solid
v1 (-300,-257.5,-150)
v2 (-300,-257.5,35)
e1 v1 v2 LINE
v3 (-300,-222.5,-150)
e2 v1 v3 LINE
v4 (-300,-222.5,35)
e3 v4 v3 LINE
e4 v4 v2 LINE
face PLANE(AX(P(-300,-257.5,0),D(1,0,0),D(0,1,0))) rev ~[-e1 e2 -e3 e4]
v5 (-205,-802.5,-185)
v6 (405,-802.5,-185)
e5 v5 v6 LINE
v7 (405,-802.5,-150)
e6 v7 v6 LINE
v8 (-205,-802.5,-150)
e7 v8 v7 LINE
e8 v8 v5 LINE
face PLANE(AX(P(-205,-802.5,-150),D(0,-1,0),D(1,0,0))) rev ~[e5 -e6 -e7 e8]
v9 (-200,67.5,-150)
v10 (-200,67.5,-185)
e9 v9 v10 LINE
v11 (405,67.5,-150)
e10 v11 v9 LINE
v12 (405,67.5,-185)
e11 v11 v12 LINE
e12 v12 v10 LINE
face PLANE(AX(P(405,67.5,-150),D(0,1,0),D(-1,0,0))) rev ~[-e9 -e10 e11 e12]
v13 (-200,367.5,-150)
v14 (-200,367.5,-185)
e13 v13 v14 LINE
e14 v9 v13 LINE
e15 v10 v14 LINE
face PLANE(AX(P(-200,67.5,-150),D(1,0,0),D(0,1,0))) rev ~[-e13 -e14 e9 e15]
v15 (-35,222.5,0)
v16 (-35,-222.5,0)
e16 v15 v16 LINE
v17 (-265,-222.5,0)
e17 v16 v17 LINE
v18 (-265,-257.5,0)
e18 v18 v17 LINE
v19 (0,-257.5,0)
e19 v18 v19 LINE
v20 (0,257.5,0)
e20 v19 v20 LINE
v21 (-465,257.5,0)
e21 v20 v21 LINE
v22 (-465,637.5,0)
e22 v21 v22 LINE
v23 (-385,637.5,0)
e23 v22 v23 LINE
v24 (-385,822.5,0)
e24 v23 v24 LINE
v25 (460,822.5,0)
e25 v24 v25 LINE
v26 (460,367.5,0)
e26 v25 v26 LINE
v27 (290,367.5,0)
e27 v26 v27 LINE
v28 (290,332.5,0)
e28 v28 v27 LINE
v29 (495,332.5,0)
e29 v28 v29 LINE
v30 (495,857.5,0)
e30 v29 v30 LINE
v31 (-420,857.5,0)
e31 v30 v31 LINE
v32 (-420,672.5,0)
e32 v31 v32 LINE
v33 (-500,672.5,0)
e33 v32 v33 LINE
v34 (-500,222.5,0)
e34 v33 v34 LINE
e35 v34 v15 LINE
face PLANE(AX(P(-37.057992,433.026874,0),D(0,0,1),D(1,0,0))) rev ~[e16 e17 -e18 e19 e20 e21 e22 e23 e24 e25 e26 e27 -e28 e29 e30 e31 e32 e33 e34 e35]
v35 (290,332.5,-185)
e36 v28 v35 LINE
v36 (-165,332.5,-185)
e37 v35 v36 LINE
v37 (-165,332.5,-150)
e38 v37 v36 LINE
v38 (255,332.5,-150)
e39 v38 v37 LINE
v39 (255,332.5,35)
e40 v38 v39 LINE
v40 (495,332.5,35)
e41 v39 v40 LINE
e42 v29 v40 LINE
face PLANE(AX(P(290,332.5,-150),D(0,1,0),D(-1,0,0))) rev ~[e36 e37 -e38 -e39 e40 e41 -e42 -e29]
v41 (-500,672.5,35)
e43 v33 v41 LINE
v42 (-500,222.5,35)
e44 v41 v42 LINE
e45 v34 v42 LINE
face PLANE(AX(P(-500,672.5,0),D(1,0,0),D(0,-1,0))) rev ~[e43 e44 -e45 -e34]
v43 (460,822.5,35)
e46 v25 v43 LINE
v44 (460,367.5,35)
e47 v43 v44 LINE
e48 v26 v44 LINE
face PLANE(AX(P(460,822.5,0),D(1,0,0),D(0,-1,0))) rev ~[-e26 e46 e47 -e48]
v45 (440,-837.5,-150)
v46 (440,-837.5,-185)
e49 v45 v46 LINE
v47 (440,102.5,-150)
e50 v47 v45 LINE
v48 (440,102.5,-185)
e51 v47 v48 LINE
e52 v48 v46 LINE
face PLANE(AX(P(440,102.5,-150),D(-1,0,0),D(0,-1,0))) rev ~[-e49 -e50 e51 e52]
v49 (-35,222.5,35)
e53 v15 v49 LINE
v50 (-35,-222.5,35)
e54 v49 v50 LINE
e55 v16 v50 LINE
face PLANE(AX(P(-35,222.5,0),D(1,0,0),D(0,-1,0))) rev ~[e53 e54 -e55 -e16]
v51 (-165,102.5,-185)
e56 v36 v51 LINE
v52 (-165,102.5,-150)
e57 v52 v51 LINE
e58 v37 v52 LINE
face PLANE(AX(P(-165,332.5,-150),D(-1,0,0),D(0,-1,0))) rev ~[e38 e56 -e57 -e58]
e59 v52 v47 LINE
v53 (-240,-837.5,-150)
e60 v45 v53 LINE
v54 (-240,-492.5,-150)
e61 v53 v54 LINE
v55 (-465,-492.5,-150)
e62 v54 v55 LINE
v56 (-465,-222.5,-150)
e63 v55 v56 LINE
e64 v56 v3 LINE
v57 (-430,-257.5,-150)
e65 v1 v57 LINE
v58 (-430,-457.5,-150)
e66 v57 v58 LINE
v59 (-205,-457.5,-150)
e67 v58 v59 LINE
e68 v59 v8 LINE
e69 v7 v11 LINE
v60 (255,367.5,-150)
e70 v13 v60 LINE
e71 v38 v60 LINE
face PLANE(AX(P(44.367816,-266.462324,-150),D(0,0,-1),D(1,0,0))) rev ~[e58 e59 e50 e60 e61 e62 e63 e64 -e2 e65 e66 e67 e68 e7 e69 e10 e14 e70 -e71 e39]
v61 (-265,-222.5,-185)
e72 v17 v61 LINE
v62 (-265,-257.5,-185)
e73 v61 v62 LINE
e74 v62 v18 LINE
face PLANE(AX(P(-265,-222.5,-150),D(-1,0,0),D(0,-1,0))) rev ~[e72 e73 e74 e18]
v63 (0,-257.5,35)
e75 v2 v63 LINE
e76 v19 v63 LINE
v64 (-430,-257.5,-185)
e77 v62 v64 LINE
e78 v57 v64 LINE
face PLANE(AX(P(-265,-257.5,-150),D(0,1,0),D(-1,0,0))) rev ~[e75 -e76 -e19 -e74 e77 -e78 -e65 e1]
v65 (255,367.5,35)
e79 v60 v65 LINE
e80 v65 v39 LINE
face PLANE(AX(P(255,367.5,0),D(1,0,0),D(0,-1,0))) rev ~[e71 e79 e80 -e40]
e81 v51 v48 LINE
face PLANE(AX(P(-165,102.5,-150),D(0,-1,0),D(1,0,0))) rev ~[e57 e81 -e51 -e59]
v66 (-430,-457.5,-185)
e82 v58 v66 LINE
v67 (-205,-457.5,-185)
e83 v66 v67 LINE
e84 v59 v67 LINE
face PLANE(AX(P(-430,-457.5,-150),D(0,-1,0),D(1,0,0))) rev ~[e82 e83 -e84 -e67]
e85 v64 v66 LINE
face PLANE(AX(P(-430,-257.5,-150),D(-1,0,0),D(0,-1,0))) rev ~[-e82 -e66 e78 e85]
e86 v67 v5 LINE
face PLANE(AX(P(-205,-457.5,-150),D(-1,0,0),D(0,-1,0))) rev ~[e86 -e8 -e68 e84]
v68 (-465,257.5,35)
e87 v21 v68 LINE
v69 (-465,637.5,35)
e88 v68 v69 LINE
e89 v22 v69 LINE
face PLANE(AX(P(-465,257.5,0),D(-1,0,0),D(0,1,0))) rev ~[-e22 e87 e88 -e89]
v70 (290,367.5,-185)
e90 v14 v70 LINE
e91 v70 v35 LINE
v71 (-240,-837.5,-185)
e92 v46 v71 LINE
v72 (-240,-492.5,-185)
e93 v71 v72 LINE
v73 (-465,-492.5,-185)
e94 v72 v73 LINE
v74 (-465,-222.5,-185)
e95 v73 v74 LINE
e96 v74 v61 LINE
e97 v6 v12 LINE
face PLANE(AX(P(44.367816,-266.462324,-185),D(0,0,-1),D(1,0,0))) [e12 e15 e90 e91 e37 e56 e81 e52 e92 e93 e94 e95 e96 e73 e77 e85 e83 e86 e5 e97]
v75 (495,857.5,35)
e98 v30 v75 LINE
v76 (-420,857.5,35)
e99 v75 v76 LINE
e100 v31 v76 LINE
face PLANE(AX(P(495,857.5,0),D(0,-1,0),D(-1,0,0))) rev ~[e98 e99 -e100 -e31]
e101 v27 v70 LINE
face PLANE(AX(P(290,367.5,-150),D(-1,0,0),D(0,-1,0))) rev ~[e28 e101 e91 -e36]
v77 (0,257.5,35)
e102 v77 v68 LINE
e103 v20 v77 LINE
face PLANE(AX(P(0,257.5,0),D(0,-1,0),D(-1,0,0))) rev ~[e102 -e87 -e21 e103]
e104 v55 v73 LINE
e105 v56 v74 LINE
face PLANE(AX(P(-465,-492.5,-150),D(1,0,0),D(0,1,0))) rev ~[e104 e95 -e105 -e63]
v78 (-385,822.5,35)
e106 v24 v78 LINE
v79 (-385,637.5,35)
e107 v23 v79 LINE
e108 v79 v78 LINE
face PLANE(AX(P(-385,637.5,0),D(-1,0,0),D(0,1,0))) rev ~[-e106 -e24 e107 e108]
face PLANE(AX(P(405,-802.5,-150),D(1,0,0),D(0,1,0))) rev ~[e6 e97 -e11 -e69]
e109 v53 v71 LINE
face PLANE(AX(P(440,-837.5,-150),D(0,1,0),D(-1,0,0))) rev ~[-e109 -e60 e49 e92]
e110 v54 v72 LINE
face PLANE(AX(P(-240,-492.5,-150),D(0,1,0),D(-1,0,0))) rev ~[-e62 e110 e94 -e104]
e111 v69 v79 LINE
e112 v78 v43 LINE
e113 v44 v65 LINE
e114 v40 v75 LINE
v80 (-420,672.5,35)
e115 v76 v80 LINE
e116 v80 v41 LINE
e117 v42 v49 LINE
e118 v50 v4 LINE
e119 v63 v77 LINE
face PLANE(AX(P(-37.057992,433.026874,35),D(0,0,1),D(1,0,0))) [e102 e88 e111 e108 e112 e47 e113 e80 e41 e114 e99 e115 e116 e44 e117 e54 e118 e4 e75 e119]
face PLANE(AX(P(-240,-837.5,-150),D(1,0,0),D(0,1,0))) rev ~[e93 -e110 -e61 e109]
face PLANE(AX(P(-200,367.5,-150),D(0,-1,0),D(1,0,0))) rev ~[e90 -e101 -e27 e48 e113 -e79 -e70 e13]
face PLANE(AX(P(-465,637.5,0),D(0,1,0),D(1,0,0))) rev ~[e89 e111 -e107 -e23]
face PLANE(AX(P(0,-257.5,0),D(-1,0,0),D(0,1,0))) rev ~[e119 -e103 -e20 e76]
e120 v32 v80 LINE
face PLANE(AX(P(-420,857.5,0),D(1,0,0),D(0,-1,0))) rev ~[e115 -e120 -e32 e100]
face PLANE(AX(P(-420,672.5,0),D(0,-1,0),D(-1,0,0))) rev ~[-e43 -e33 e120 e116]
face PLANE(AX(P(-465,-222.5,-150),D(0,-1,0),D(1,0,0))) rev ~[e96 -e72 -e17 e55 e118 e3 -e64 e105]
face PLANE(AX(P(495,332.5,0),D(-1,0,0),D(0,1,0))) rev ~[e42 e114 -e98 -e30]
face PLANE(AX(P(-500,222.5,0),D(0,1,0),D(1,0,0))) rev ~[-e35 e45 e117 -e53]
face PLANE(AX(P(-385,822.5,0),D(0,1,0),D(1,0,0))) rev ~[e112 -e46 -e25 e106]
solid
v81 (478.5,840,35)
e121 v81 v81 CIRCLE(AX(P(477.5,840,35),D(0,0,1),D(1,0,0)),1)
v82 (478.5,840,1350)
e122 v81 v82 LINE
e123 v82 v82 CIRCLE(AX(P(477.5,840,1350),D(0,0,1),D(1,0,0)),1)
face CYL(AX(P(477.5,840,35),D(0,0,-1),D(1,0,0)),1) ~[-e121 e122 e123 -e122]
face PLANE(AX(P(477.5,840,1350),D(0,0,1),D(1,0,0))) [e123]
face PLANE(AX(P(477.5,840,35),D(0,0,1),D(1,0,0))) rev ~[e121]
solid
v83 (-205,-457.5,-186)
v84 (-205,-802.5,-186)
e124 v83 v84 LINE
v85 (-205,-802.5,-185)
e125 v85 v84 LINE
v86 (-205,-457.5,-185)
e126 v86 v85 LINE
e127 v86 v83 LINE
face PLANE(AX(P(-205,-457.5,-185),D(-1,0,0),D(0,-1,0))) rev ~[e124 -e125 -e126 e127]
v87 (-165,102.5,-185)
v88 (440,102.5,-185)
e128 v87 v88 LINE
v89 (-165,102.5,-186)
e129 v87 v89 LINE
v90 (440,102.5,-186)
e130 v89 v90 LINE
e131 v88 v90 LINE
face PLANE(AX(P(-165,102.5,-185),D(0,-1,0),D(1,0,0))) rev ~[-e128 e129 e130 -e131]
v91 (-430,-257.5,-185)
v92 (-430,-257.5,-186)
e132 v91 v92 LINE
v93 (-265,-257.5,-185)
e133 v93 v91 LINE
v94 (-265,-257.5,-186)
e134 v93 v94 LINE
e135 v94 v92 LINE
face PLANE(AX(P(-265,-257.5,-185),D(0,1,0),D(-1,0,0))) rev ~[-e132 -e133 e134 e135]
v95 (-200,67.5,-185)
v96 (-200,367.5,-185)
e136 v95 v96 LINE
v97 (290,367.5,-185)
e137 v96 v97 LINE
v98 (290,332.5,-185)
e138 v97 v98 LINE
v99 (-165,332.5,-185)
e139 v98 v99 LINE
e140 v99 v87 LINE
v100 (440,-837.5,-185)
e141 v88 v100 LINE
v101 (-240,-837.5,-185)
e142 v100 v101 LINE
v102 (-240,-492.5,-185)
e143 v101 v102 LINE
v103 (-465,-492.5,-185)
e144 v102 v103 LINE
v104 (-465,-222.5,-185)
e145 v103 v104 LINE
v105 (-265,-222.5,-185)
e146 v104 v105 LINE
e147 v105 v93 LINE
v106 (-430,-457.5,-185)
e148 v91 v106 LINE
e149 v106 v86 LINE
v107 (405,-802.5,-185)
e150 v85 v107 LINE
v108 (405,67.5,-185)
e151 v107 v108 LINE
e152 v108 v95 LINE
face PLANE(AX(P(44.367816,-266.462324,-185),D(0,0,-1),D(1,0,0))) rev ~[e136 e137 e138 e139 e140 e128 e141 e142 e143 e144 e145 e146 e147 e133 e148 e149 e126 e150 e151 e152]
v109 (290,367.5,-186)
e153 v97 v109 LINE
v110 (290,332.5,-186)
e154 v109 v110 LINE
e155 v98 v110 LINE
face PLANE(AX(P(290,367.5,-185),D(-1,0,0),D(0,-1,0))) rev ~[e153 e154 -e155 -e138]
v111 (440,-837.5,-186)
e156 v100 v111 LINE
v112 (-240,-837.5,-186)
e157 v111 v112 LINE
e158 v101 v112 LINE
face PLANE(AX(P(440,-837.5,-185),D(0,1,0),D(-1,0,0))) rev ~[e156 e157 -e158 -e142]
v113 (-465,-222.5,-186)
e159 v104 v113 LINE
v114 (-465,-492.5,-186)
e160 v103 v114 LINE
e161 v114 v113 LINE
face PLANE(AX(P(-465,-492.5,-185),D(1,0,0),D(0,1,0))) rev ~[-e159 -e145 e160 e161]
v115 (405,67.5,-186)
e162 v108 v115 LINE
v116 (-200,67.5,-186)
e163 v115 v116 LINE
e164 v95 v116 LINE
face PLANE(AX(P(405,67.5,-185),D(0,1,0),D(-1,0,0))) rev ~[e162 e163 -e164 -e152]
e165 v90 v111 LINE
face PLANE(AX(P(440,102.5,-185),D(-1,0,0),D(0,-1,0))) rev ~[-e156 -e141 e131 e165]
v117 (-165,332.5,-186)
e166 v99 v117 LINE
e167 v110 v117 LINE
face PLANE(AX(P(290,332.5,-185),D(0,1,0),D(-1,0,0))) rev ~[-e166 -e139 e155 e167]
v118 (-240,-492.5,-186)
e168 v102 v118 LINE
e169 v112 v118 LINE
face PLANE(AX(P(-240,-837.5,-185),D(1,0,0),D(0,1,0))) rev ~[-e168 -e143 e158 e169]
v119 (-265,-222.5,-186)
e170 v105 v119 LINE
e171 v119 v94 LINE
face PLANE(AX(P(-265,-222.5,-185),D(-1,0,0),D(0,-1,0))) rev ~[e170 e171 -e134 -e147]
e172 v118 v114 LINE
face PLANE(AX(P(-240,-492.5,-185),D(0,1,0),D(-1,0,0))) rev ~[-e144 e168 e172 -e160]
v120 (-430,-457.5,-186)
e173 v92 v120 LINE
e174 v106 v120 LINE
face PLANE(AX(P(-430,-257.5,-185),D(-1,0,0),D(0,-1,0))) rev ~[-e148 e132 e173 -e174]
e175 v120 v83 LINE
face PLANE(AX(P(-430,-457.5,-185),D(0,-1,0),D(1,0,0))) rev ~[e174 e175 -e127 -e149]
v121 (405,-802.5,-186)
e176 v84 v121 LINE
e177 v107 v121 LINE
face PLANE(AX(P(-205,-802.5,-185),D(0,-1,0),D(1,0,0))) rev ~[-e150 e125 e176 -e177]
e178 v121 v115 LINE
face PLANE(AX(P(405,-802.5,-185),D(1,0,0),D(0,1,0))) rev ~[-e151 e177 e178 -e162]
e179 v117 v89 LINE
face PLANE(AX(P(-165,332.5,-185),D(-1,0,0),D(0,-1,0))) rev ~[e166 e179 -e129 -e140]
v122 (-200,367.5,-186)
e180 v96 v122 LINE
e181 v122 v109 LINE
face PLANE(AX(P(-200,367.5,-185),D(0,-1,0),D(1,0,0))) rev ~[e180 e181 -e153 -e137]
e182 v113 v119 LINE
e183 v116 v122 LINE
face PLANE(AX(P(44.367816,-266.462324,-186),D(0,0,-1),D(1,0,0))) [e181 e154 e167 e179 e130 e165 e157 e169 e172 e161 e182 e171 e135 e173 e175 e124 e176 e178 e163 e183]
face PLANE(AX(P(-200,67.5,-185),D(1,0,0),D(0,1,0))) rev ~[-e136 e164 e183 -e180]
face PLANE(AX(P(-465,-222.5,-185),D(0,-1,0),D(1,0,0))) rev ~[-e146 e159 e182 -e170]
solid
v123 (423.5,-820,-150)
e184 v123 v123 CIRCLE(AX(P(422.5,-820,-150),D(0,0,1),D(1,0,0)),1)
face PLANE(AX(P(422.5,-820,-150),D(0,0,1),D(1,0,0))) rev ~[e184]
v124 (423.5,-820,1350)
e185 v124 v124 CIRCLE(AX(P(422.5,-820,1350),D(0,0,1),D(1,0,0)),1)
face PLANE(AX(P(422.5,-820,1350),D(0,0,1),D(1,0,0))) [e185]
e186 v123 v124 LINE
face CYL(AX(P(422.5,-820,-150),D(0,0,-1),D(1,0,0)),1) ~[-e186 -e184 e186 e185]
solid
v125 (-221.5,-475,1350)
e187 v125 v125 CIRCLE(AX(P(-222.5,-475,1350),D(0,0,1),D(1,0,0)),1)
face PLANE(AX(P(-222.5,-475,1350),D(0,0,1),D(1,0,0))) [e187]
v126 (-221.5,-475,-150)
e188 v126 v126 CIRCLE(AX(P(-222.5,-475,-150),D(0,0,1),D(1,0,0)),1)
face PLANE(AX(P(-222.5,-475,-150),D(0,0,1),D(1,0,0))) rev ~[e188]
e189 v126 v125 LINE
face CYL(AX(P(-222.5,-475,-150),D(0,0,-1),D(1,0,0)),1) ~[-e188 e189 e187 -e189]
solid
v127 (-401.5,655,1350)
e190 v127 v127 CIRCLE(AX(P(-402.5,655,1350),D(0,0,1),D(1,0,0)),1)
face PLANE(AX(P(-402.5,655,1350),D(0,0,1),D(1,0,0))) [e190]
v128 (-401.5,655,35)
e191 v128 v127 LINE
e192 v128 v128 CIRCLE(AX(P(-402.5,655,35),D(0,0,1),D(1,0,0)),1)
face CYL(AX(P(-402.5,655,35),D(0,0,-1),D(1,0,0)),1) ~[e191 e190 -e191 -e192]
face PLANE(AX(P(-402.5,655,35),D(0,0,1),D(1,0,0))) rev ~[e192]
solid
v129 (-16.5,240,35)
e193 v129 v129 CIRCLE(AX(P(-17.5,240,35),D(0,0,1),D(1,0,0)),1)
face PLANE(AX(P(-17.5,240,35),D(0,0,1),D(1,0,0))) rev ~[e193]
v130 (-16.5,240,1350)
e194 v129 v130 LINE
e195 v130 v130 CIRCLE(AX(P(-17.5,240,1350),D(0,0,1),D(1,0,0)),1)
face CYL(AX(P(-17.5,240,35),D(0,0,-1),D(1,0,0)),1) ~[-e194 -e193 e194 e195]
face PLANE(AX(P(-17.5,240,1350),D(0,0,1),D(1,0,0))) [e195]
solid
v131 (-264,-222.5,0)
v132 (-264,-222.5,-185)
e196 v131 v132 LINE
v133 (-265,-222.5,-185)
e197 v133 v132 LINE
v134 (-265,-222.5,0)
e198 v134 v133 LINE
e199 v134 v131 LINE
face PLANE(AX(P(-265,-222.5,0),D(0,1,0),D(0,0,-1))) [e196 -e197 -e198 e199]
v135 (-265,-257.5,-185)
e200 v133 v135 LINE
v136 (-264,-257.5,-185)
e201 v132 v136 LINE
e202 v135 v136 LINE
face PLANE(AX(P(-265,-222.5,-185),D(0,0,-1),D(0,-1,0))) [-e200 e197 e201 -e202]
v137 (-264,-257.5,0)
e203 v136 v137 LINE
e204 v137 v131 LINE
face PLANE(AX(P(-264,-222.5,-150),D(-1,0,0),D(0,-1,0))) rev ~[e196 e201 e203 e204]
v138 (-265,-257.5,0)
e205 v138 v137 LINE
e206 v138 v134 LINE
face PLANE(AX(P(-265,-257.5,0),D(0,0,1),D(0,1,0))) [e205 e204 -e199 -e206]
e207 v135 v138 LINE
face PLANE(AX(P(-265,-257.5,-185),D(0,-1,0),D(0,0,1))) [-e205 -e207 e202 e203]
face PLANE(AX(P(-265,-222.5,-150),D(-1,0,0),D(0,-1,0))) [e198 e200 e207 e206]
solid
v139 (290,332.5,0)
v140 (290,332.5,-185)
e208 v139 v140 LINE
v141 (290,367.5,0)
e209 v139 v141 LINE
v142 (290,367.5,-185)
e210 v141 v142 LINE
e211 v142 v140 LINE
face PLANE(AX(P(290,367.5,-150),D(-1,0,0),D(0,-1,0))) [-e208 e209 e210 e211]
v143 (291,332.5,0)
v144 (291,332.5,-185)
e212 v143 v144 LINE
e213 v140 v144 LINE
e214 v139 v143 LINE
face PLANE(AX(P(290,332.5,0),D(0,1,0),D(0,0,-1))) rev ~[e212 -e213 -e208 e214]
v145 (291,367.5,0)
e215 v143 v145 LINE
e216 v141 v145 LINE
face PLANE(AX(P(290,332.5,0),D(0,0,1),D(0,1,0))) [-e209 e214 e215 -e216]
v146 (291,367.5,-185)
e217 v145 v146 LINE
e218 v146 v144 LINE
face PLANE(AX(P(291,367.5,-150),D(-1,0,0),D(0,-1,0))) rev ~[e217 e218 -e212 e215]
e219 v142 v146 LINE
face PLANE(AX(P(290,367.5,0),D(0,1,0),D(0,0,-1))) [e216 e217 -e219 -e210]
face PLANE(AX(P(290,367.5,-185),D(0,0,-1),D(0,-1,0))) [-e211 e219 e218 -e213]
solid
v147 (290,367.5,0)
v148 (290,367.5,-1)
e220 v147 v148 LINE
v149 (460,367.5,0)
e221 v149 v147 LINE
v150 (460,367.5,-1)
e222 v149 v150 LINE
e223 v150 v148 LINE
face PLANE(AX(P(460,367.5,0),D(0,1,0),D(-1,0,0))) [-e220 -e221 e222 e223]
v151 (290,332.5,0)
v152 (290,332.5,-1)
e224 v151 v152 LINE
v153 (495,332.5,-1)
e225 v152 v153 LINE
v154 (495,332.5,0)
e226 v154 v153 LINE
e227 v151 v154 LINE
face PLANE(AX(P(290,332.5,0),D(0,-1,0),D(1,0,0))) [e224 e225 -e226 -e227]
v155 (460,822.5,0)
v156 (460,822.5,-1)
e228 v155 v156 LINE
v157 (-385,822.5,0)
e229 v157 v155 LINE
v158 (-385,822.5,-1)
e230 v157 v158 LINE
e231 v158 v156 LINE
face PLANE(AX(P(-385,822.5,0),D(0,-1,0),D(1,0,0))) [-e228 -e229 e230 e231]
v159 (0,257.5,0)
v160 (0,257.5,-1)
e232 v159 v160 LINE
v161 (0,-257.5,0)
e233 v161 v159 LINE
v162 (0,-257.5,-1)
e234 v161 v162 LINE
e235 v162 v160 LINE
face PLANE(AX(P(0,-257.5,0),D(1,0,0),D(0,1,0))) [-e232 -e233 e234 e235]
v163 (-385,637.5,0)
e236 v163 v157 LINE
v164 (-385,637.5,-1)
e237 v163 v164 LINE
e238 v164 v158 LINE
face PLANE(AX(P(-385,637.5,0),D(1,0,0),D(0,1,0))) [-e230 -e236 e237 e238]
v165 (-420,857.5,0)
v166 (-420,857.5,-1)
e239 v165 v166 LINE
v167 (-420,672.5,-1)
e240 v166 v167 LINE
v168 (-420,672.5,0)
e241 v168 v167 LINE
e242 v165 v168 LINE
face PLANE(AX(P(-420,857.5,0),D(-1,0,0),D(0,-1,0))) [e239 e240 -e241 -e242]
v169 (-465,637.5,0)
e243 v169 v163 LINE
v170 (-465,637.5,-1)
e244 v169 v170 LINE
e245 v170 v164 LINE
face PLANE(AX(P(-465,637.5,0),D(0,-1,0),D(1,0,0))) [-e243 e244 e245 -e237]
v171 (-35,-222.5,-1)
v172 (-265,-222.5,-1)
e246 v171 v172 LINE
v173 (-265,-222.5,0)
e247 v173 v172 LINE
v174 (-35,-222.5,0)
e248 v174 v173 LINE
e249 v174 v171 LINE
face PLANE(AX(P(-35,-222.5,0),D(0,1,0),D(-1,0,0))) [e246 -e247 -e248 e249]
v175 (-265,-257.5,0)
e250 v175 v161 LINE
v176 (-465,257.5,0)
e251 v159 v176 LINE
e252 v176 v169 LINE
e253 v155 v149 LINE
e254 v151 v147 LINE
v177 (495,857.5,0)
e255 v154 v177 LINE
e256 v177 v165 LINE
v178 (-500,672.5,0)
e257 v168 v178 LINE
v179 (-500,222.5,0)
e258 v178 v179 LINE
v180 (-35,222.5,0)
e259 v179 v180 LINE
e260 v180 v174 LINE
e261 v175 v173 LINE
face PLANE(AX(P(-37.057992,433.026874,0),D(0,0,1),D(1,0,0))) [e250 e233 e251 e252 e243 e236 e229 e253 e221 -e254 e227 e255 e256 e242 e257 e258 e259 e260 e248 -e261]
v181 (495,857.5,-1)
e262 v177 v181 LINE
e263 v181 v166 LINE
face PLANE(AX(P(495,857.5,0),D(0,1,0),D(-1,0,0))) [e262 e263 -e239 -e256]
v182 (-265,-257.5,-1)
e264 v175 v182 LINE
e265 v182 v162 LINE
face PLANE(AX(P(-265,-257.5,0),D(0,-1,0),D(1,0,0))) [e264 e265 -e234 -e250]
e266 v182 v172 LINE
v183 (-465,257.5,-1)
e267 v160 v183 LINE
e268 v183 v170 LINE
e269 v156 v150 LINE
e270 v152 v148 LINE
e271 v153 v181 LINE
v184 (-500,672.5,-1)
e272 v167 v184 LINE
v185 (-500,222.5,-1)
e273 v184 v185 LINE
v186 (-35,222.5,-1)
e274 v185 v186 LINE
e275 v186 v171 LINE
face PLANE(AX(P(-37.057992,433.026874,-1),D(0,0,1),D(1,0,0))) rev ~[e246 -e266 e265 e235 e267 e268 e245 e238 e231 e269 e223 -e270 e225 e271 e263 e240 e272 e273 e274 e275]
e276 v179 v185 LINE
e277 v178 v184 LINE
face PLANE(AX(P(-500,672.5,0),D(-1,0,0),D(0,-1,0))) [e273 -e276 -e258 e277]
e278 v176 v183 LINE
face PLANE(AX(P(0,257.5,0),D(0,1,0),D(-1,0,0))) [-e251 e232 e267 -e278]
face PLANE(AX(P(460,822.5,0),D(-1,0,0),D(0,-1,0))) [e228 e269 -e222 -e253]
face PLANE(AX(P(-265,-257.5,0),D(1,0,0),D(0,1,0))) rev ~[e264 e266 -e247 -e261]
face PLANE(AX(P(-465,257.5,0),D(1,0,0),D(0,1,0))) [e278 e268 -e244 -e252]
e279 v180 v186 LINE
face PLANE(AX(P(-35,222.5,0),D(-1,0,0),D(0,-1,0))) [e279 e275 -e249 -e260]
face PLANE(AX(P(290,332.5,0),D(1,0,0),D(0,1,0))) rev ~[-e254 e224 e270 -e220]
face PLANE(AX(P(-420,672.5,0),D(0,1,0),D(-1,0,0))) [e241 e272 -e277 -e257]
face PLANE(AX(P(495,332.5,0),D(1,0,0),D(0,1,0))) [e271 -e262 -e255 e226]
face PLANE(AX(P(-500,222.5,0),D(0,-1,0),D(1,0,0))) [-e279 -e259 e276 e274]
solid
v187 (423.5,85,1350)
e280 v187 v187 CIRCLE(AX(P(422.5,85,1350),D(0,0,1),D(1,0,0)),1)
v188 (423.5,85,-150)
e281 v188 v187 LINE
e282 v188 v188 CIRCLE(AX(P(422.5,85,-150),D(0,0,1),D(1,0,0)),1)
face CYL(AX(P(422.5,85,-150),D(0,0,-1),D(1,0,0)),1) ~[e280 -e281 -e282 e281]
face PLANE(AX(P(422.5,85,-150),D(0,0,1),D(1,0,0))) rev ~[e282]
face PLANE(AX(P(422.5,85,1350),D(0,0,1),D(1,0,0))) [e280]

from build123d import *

# Parameters (mm, degrees)
F1_DEPTH  = 35
F2_W      = 35
F2_H      = 35
F3_DEPTH  = 150
F6_DEPTH  = 35
F7_DEPTH  = 1
F8_DEPTH  = 1
F9_DEPTH  = 1
F10_R     = 1
F11_DEPTH = 1500
F12_R     = 1
F13_DEPTH = 1315


with BuildPart() as f1:
    # F0 (on Top) → F1 (new body)
    with BuildSketch(Plane.XY):
        Polygon((460, 822.5), (460, 367.5), (255, 367.5), (255, 332.5), (495, 332.5), (495, 857.5), (-420, 857.5), (-420, 672.5), (-500, 672.5), (-500, 222.5), (-35, 222.5), (-35, -222.5), (-300, -222.5), (-300, -257.5), (0, -257.5), (0, 257.5), (-465, 257.5), (-465, 637.5), (-385, 637.5), (-385, 822.5), align=None)
    extrude(amount=F1_DEPTH)

    # F2 (on Top) → F3 (join)
    with BuildSketch(Plane.XY):
        with Locations((-282.5, -240)):
            Rectangle(F2_W, F2_H)
        with Locations((272.5, 350)):
            Rectangle(F2_W, F2_H)
    extrude(amount=-F3_DEPTH)

    # F5 (on offset) → F6 (join)
    with BuildSketch(Plane(origin=(0, 0, -150), x_dir=(1, 0, 0), z_dir=(0, 0, -1))):
        Polygon((-200, -67.5), (-200, -367.5), (290, -367.5), (290, -332.5), (-165, -332.5), (-165, -102.5), (440, -102.5), (440, 837.5), (-240, 837.5), (-240, 492.5), (-465, 492.5), (-465, 222.5), (-265, 222.5), (-265, 257.5), (-430, 257.5), (-430, 457.5), (-205, 457.5), (-205, 802.5), (405, 802.5), (405, -67.5), align=None)
    extrude(amount=F6_DEPTH)


with BuildPart() as f7:
    # F7 (new): a face of the model
    f7_faces = [f1.part.faces().sort_by_distance(p)[0] for p in [
        (-184.9299966822, 217.5, -185),
    ]]
    extrude(f7_faces, amount=F7_DEPTH)


with BuildPart() as f8:
    # F8 (new): a face of the model
    f8_faces = [f1.part.faces().sort_by_distance(p)[0] for p in [
        (-265, -240, -92.5),
    ]]
    extrude(f8_faces, amount=F8_DEPTH)


with BuildPart() as f8b:
    # F8#2 (new): a face of the model
    f8_2_faces = [f1.part.faces().sort_by_distance(p)[0] for p in [
        (290, 350, -92.5),
    ]]
    extrude(f8_2_faces, amount=F8_DEPTH)


with BuildPart() as f9:
    # F9 (new): a face of the model
    f9_faces = [f1.part.faces().sort_by_distance(p)[0] for p in [
        (37.5, 837.444062366, 0),
    ]]
    extrude(f9_faces, amount=F9_DEPTH)


with BuildPart() as f11:
    # F10 (on face) → F11 (new body)
    with BuildSketch(Plane.XY.offset(-150)):
        with Locations((-222.5, -475)):
            Circle(F10_R)
    extrude(amount=F11_DEPTH)


with BuildPart() as f11b:
    # F10 (on face) → F11, piece 2 (new body)
    with BuildSketch(Plane.XY.offset(-150)):
        with Locations((422.5, 85)):
            Circle(F10_R)
    extrude(amount=F11_DEPTH)


with BuildPart() as f11c:
    # F10 (on face) → F11, piece 3 (new body)
    with BuildSketch(Plane.XY.offset(-150)):
        with Locations((422.5, -820)):
            Circle(F10_R)
    extrude(amount=F11_DEPTH)


with BuildPart() as f13:
    # F12 (on face) → F13 (new body)
    with BuildSketch(Plane.XY.offset(35)):
        with Locations((-402.5, 655)):
            Circle(F12_R)
    extrude(amount=F13_DEPTH)


with BuildPart() as f13b:
    # F12 (on face) → F13, piece 2 (new body)
    with BuildSketch(Plane.XY.offset(35)):
        with Locations((477.5, 840)):
            Circle(F12_R)
    extrude(amount=F13_DEPTH)


with BuildPart() as f13c:
    # F12 (on face) → F13, piece 3 (new body)
    with BuildSketch(Plane.XY.offset(35)):
        with Locations((-17.5, 240)):
            Circle(F12_R)
    extrude(amount=F13_DEPTH)


solid = Compound([f1.part, f7.part, f8.part, f8b.part, f9.part, f11.part, f11b.part, f11c.part, f13.part, f13b.part, f13c.part])
